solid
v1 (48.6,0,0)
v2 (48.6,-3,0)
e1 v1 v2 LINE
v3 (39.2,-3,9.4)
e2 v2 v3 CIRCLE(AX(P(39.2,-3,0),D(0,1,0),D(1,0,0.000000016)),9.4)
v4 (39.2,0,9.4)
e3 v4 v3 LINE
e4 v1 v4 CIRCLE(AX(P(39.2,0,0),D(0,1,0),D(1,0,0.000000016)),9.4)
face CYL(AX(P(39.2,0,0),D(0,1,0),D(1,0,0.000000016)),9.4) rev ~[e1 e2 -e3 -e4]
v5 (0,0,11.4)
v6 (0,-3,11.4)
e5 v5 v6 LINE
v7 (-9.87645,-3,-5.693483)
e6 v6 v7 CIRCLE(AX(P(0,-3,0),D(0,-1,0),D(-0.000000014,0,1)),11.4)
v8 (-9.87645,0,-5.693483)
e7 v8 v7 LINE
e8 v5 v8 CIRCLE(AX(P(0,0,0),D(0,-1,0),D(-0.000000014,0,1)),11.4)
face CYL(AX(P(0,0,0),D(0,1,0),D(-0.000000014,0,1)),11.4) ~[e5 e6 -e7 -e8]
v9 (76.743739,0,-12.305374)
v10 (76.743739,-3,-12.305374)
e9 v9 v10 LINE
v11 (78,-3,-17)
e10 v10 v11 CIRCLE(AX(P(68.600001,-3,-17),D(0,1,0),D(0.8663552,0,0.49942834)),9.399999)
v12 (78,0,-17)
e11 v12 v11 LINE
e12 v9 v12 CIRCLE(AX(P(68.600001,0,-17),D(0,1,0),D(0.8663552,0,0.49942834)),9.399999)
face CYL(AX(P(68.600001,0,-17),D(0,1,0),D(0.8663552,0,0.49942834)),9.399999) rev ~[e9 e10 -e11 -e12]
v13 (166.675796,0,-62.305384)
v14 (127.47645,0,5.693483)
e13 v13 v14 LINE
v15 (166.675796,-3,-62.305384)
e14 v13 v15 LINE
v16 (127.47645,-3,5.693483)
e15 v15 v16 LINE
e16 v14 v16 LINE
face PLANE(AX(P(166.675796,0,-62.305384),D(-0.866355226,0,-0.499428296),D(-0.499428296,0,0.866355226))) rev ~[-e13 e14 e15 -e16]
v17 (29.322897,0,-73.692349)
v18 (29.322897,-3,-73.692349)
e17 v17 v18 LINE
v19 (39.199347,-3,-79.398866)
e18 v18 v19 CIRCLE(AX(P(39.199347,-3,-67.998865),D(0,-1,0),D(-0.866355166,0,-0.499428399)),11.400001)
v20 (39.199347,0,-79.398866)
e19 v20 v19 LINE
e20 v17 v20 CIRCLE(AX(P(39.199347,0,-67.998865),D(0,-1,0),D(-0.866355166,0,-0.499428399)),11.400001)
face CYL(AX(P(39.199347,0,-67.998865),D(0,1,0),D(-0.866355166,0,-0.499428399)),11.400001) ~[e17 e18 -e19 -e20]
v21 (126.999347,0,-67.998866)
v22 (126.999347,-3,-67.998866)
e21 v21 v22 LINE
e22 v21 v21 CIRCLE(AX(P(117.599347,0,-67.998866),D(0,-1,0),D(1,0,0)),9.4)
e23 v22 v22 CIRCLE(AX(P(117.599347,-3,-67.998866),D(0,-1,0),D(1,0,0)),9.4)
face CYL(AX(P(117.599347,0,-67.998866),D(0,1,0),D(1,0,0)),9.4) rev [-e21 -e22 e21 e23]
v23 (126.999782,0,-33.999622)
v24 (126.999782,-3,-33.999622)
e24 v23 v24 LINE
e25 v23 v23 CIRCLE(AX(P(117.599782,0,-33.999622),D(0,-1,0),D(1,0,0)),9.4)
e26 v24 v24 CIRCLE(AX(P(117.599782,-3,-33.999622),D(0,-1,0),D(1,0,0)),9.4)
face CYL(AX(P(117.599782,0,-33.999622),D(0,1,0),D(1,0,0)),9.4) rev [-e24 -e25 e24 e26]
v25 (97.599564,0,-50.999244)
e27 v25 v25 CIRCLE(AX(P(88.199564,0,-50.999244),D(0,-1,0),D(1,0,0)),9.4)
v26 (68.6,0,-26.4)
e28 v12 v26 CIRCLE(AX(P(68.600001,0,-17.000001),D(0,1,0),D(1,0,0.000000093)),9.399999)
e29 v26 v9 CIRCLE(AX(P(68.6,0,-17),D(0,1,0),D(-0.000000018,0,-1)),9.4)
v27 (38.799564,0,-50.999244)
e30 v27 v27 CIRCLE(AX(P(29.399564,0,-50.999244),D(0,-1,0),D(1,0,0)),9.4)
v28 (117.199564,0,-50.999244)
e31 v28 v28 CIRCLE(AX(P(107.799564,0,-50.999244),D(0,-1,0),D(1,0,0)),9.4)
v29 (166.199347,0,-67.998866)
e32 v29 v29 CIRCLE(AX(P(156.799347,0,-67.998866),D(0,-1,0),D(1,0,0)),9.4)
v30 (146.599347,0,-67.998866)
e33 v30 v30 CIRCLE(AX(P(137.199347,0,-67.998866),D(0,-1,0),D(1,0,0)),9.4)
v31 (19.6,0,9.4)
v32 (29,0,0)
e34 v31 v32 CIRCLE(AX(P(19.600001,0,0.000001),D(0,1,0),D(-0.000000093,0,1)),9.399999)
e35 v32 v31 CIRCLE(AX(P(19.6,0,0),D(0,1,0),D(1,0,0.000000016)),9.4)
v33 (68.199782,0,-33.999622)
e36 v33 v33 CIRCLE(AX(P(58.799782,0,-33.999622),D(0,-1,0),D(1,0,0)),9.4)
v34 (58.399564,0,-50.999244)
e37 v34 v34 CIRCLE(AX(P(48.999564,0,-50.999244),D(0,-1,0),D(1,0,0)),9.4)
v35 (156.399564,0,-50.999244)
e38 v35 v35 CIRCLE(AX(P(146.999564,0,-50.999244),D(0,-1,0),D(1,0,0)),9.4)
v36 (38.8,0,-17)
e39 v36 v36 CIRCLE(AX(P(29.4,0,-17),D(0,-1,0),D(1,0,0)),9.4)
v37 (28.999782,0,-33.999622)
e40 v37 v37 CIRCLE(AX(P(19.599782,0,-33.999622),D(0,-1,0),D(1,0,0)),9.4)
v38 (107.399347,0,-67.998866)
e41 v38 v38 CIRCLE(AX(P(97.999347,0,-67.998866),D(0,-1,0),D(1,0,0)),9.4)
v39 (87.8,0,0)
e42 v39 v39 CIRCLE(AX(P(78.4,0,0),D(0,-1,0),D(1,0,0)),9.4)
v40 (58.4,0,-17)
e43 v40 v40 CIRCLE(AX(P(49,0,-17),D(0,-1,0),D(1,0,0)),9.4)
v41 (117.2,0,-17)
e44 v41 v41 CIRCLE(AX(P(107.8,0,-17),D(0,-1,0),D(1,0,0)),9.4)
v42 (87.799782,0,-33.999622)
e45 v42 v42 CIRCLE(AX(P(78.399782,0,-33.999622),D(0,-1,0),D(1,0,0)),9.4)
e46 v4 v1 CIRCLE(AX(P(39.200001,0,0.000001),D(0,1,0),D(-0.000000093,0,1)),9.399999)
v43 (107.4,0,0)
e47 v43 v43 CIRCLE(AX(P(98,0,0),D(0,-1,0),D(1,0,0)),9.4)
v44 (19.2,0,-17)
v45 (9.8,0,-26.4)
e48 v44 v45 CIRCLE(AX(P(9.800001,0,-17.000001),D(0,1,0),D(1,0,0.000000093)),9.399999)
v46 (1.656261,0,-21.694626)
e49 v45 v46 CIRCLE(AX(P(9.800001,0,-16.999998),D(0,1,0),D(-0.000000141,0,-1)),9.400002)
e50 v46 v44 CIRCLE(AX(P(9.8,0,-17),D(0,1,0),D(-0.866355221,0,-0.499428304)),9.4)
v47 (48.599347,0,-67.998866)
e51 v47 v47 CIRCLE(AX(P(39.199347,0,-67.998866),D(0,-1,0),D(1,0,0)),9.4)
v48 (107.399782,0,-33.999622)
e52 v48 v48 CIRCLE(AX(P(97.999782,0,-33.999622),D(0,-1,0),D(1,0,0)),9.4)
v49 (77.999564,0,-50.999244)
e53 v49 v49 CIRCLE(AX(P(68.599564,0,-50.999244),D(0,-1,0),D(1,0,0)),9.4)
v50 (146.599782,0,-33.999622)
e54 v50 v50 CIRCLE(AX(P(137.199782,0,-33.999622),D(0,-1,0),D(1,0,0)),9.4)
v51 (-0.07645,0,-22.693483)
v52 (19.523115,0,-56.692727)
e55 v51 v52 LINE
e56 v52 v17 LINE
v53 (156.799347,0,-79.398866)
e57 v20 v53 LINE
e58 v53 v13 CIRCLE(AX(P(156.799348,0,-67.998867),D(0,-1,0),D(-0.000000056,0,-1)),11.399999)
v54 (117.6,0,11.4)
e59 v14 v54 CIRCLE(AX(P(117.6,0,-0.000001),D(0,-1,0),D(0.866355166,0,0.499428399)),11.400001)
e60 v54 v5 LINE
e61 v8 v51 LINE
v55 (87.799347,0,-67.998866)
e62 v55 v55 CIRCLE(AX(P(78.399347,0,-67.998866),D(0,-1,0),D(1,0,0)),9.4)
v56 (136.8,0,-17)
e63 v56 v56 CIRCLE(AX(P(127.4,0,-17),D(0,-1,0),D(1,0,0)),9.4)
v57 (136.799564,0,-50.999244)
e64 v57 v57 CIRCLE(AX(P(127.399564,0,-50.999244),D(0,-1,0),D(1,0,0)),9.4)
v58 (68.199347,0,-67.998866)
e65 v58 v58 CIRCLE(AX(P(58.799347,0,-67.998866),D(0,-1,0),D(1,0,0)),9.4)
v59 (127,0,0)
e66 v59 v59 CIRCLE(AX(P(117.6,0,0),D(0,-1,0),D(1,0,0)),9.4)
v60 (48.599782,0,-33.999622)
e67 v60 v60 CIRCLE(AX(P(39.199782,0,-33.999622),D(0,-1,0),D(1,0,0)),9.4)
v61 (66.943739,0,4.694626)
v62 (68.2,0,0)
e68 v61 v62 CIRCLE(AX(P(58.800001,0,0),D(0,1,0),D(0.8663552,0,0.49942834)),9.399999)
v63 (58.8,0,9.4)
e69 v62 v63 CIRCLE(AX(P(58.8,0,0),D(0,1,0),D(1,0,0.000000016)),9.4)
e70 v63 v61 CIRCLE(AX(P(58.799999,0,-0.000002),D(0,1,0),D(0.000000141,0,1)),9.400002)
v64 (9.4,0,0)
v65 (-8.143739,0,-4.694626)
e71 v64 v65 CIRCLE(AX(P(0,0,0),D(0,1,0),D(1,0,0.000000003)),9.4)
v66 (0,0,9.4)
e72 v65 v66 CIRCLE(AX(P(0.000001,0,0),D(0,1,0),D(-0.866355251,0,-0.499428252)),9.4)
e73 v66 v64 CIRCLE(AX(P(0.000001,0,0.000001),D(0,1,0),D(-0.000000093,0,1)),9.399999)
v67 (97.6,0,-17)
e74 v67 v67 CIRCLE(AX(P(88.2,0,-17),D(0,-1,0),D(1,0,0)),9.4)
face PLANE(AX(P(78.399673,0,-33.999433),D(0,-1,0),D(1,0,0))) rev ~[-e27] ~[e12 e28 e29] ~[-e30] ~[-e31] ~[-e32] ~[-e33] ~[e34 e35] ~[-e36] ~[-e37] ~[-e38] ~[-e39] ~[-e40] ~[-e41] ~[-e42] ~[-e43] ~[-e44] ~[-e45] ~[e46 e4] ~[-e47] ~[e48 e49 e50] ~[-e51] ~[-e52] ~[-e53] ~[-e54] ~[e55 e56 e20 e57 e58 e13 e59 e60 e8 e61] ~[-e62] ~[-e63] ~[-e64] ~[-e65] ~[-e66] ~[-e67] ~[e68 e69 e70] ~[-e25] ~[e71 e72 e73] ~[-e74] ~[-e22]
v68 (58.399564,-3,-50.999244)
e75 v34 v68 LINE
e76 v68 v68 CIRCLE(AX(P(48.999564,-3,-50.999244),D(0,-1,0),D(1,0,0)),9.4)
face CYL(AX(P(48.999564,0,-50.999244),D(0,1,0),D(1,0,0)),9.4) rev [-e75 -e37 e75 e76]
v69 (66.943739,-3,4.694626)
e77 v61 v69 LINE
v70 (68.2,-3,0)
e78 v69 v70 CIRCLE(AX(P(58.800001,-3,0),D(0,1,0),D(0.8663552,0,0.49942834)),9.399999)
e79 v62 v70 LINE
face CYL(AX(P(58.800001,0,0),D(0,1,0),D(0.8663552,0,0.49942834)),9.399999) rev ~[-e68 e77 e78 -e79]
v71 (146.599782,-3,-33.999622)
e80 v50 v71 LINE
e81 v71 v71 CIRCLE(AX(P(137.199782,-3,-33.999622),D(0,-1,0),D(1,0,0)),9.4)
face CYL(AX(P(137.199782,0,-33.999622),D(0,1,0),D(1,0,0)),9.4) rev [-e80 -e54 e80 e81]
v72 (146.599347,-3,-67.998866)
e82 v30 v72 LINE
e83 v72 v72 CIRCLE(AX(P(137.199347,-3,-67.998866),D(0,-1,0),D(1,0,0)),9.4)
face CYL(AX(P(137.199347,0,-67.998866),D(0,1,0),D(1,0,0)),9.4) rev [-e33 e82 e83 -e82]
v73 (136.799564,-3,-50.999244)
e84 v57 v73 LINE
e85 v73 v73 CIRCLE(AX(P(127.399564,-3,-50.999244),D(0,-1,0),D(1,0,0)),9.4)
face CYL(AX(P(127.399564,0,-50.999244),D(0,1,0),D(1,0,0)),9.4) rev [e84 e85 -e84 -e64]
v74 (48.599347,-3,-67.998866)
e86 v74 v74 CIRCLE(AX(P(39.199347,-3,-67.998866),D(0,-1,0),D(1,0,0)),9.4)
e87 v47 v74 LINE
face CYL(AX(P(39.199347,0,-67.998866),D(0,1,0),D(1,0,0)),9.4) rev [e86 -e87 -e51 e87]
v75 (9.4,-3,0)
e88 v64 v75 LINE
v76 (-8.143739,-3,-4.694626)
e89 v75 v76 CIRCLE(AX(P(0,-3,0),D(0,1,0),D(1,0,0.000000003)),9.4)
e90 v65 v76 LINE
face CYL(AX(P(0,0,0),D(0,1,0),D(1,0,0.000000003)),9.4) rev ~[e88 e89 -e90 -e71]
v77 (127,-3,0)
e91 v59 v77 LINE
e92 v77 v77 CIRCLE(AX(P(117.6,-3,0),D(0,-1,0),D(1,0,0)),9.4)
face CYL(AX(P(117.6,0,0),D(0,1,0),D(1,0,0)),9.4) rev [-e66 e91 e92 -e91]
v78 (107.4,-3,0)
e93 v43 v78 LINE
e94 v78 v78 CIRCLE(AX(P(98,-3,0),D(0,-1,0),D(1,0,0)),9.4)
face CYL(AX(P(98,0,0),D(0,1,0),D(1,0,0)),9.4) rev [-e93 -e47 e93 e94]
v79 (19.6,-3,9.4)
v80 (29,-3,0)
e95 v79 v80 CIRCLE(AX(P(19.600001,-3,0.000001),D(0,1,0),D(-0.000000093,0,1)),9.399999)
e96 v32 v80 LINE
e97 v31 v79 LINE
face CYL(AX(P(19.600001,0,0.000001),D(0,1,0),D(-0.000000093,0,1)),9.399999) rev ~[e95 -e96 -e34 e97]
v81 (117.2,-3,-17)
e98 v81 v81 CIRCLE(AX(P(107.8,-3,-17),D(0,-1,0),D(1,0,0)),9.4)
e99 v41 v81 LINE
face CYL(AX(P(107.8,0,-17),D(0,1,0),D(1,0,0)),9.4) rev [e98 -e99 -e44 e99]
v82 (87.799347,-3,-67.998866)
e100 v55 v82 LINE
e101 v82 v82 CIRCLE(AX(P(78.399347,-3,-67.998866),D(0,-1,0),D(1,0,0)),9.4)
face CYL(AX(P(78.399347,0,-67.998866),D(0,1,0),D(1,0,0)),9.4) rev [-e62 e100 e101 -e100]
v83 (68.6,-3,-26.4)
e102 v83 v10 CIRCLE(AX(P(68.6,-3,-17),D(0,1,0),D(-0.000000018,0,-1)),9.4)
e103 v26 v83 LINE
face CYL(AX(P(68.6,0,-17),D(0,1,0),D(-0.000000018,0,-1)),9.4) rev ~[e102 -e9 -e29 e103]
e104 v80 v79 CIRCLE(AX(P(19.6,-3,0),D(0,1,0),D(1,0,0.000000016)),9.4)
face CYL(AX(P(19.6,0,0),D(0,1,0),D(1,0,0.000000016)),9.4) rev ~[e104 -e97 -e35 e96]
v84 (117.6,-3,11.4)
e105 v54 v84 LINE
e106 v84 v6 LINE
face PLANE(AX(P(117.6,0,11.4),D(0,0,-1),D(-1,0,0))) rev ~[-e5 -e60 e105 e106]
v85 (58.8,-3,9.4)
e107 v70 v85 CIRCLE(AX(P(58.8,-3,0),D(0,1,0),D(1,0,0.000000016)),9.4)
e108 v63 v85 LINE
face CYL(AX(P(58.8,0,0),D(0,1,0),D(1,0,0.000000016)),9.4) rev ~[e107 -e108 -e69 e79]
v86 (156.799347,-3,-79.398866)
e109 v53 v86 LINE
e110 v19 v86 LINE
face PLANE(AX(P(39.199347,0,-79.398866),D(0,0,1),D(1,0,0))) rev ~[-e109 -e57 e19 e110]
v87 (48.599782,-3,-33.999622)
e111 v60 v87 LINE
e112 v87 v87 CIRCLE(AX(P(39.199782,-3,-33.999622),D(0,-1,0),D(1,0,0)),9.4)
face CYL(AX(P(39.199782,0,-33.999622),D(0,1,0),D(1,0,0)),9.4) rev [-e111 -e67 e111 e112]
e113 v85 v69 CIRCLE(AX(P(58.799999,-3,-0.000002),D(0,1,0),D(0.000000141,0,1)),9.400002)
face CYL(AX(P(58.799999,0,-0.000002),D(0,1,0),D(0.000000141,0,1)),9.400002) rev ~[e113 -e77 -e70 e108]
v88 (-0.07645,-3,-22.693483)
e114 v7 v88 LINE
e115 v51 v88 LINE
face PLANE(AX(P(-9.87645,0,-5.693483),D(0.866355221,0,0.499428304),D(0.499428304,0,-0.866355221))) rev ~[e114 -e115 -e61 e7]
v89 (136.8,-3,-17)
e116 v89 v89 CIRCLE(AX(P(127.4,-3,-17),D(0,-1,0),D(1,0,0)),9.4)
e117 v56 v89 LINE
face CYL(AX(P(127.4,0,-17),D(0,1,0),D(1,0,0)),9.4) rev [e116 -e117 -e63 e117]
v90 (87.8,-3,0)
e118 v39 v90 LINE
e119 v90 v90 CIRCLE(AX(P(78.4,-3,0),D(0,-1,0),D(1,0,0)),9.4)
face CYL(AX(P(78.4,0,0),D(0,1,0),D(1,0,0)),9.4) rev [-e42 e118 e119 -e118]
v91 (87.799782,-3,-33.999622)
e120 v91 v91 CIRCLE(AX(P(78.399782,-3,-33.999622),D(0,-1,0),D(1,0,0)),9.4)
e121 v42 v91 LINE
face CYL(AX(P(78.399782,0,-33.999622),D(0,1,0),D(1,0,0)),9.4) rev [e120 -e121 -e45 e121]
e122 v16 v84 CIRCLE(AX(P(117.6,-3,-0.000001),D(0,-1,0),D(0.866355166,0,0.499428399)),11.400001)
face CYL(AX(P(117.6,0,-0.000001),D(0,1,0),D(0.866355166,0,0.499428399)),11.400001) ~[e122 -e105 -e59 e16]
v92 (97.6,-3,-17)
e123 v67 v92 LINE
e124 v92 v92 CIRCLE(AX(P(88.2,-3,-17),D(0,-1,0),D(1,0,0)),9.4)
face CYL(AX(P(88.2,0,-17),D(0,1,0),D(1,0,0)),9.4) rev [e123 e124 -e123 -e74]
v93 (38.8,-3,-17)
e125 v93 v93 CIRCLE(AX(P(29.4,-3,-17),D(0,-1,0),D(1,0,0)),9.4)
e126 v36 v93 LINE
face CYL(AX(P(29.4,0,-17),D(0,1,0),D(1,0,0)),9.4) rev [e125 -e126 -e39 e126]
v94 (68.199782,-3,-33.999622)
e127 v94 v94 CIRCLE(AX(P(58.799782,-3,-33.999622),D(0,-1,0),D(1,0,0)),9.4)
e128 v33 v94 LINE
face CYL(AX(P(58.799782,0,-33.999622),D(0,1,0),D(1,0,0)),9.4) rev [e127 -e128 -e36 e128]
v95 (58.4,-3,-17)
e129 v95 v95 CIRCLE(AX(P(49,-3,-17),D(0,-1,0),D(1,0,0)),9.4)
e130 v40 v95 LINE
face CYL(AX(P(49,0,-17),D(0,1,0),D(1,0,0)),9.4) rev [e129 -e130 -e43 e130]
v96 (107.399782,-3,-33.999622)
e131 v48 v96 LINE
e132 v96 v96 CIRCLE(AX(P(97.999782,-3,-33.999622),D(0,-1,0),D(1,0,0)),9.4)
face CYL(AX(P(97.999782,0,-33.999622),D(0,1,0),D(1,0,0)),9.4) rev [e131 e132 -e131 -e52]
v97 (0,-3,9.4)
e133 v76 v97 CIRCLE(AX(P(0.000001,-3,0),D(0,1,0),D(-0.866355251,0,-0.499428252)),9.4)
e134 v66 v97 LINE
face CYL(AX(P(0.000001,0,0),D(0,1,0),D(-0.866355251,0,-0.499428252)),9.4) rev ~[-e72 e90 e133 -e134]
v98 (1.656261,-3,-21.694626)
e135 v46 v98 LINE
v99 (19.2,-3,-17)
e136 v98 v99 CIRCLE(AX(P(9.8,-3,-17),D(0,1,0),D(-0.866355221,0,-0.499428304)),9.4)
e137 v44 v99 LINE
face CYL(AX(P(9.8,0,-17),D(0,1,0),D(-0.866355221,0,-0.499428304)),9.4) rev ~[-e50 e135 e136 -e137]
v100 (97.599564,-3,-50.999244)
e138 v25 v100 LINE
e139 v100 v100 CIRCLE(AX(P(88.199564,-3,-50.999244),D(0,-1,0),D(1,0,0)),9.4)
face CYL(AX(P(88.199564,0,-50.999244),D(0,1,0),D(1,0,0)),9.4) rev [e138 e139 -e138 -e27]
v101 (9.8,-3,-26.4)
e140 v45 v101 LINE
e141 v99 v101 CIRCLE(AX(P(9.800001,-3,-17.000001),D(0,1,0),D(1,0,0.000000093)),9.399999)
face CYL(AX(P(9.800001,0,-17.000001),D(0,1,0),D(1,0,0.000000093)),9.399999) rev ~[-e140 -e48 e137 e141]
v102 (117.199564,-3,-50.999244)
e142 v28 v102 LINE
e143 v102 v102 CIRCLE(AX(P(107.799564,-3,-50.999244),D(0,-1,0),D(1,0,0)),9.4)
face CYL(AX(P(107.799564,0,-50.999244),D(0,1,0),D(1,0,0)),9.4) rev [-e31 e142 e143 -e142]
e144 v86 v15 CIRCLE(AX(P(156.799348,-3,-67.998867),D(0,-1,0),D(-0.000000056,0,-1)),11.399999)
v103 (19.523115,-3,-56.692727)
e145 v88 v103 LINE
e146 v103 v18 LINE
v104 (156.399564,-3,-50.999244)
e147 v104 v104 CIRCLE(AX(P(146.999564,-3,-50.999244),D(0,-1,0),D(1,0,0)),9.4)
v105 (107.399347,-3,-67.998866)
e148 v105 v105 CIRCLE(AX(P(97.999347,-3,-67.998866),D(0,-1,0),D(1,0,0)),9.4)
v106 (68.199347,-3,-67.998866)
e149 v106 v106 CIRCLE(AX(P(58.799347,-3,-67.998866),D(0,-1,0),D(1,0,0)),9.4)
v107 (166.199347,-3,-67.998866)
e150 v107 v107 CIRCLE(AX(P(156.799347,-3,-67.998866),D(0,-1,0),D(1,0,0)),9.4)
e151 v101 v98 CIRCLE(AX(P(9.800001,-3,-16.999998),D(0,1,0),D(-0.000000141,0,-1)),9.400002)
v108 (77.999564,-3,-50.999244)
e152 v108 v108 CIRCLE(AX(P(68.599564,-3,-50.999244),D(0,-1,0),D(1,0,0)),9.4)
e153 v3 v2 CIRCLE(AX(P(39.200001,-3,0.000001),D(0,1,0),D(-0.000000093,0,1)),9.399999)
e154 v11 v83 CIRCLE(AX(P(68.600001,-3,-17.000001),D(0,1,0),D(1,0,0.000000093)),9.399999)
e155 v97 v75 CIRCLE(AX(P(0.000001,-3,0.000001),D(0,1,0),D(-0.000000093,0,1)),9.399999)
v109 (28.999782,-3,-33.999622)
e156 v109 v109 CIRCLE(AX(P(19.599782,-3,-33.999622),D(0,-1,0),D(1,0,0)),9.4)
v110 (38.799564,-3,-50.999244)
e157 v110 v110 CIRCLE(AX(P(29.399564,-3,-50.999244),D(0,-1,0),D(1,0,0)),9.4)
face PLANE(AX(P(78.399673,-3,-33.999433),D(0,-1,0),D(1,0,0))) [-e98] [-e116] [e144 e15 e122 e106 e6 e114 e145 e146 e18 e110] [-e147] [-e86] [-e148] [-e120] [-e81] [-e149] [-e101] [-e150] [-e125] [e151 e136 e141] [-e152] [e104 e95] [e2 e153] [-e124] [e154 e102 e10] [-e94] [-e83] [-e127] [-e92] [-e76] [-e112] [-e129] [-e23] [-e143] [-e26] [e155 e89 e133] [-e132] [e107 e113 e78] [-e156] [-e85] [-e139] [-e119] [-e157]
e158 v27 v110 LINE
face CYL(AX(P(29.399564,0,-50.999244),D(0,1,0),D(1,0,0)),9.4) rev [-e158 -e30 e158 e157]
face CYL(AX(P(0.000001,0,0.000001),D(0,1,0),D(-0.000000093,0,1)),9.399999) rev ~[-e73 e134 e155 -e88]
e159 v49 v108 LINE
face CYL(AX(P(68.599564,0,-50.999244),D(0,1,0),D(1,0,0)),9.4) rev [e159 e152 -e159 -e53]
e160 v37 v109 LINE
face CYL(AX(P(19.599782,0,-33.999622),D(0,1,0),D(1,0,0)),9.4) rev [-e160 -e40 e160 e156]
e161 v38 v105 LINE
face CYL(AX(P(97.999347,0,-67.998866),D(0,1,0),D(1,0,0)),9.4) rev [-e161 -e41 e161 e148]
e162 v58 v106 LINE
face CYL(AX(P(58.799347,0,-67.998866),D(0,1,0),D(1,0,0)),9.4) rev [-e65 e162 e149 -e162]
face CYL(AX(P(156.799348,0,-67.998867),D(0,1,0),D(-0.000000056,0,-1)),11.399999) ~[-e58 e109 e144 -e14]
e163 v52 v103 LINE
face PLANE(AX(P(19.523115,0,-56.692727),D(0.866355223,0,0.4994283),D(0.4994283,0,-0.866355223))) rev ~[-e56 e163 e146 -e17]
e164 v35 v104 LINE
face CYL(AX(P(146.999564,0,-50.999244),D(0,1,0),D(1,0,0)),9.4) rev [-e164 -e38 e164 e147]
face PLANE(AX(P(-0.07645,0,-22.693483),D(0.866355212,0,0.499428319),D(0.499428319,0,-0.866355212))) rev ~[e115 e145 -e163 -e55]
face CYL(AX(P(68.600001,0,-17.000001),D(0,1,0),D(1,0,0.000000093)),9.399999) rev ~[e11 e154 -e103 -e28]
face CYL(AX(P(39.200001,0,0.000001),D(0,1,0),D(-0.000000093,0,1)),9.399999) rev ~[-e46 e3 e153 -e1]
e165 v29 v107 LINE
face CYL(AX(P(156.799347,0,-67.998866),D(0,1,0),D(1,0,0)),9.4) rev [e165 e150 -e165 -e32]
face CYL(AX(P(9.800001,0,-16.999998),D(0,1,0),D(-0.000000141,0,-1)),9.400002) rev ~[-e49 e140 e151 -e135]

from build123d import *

# Parameters (mm, degrees)
F0_R     = 9.4
F1_DEPTH = 3


with BuildPart() as f1:
    # F0 (on Front) → F1 (new body)
    with BuildSketch(Plane.XZ):
        with BuildLine():
            Line((58.8, 11.4), (0, 11.4))
            ThreePointArc((0, 11.4), (-9.870808, 5.703258), (-9.87645, -5.693483))
            Line((-9.87645, -5.693483), (-0.07645, -22.693483))
            Line((-0.07645, -22.693483), (19.523115, -56.692727))
            Line((19.523115, -56.692727), (29.322897, -73.692349))
            ThreePointArc((29.322897, -73.692349), (33.496089, -77.869674), (39.199347, -79.398866))
            Line((39.199347, -79.398866), (156.799347, -79.398866))
            ThreePointArc((156.799347, -79.398866), (166.670155, -73.702124), (166.675796, -62.305384))
            Line((166.675796, -62.305384), (127.47645, 5.693483))
            ThreePointArc((127.47645, 5.693483), (123.303258, 9.870808), (117.6, 11.4))
            Line((117.6, 11.4), (98, 11.4))
            Line((98, 11.4), (58.8, 11.4))
        make_face()
        with Locations((39.199347, -67.998866)):
            Circle(F0_R, mode=Mode.SUBTRACT)
        with Locations((58.799347, -67.998866)):
            Circle(F0_R, mode=Mode.SUBTRACT)
        with Locations((78.399347, -67.998866)):
            Circle(F0_R, mode=Mode.SUBTRACT)
        with Locations((29.399564, -50.999244)):
            Circle(F0_R, mode=Mode.SUBTRACT)
        with Locations((19.599782, -33.999622)):
            Circle(F0_R, mode=Mode.SUBTRACT)
        with Locations((48.999564, -50.999244)):
            Circle(F0_R, mode=Mode.SUBTRACT)
        with Locations((68.599564, -50.999244)):
            Circle(F0_R, mode=Mode.SUBTRACT)
        with Locations((39.199782, -33.999622)):
            Circle(F0_R, mode=Mode.SUBTRACT)
        with Locations((58.799782, -33.999622)):
            Circle(F0_R, mode=Mode.SUBTRACT)
        with Locations((97.999347, -67.998866)):
            Circle(F0_R, mode=Mode.SUBTRACT)
        with Locations((117.599347, -67.998866)):
            Circle(F0_R, mode=Mode.SUBTRACT)
        with Locations((137.199347, -67.998866)):
            Circle(F0_R, mode=Mode.SUBTRACT)
        with Locations((156.799347, -67.998866)):
            Circle(F0_R, mode=Mode.SUBTRACT)
        with Locations((88.199564, -50.999244)):
            Circle(F0_R, mode=Mode.SUBTRACT)
        with Locations((107.799564, -50.999244)):
            Circle(F0_R, mode=Mode.SUBTRACT)
        with Locations((78.399782, -33.999622)):
            Circle(F0_R, mode=Mode.SUBTRACT)
        with Locations((97.999782, -33.999622)):
            Circle(F0_R, mode=Mode.SUBTRACT)
        with Locations((117.599782, -33.999622)):
            Circle(F0_R, mode=Mode.SUBTRACT)
        with Locations((127.399564, -50.999244)):
            Circle(F0_R, mode=Mode.SUBTRACT)
        with Locations((146.999564, -50.999244)):
            Circle(F0_R, mode=Mode.SUBTRACT)
        with Locations((137.199782, -33.999622)):
            Circle(F0_R, mode=Mode.SUBTRACT)
        with BuildLine():
            ThreePointArc((9.8, -26.4), (5.097314, -25.139087), (1.656261, -21.694626))
            ThreePointArc((1.656261, -21.694626), (7.370097, -7.919495), (19.2, -17))
            ThreePointArc((19.2, -17), (16.446804, -23.646804), (9.8, -26.4))
        make_face(mode=Mode.SUBTRACT)
        with Locations((29.4, -17)):
            Circle(F0_R, mode=Mode.SUBTRACT)
        with Locations((49, -17)):
            Circle(F0_R, mode=Mode.SUBTRACT)
        with BuildLine():
            ThreePointArc((76.743739, -12.305374), (77.680505, -14.570097), (78, -17))
            ThreePointArc((78, -17), (75.246804, -23.646804), (68.6, -26.4))
            ThreePointArc((68.6, -26.4), (60.460913, -12.297314), (76.743739, -12.305374))
        make_face(mode=Mode.SUBTRACT)
        with BuildLine():
            ThreePointArc((0, 9.4), (6.646804, 6.646804), (9.4, 0))
            ThreePointArc((9.4, 0), (2.429903, -9.080505), (-8.143739, -4.694626))
            ThreePointArc((-8.143739, -4.694626), (-8.139087, 4.702686), (0, 9.4))
        make_face(mode=Mode.SUBTRACT)
        with BuildLine():
            ThreePointArc((29, 0), (12.953196, -6.646804), (19.6, 9.4))
            ThreePointArc((19.6, 9.4), (26.246804, 6.646804), (29, 0))
        make_face(mode=Mode.SUBTRACT)
        with BuildLine():
            ThreePointArc((48.6, 0), (32.553196, -6.646804), (39.2, 9.4))
            ThreePointArc((39.2, 9.4), (45.846804, 6.646804), (48.6, 0))
        make_face(mode=Mode.SUBTRACT)
        with BuildLine():
            ThreePointArc((68.2, 0), (52.153196, -6.646804), (58.8, 9.4))
            ThreePointArc((58.8, 9.4), (63.502686, 8.139087), (66.943739, 4.694626))
            ThreePointArc((66.943739, 4.694626), (67.880505, 2.429903), (68.2, 0))
        make_face(mode=Mode.SUBTRACT)
        with Locations((88.2, -17)):
            Circle(F0_R, mode=Mode.SUBTRACT)
        with Locations((107.8, -17)):
            Circle(F0_R, mode=Mode.SUBTRACT)
        with Locations((127.4, -17)):
            Circle(F0_R, mode=Mode.SUBTRACT)
        with Locations((78.4, 0)):
            Circle(F0_R, mode=Mode.SUBTRACT)
        with Locations((98, 0)):
            Circle(F0_R, mode=Mode.SUBTRACT)
        with Locations((117.6, 0)):
            Circle(F0_R, mode=Mode.SUBTRACT)
    extrude(amount=F1_DEPTH)


solid = f1.part
